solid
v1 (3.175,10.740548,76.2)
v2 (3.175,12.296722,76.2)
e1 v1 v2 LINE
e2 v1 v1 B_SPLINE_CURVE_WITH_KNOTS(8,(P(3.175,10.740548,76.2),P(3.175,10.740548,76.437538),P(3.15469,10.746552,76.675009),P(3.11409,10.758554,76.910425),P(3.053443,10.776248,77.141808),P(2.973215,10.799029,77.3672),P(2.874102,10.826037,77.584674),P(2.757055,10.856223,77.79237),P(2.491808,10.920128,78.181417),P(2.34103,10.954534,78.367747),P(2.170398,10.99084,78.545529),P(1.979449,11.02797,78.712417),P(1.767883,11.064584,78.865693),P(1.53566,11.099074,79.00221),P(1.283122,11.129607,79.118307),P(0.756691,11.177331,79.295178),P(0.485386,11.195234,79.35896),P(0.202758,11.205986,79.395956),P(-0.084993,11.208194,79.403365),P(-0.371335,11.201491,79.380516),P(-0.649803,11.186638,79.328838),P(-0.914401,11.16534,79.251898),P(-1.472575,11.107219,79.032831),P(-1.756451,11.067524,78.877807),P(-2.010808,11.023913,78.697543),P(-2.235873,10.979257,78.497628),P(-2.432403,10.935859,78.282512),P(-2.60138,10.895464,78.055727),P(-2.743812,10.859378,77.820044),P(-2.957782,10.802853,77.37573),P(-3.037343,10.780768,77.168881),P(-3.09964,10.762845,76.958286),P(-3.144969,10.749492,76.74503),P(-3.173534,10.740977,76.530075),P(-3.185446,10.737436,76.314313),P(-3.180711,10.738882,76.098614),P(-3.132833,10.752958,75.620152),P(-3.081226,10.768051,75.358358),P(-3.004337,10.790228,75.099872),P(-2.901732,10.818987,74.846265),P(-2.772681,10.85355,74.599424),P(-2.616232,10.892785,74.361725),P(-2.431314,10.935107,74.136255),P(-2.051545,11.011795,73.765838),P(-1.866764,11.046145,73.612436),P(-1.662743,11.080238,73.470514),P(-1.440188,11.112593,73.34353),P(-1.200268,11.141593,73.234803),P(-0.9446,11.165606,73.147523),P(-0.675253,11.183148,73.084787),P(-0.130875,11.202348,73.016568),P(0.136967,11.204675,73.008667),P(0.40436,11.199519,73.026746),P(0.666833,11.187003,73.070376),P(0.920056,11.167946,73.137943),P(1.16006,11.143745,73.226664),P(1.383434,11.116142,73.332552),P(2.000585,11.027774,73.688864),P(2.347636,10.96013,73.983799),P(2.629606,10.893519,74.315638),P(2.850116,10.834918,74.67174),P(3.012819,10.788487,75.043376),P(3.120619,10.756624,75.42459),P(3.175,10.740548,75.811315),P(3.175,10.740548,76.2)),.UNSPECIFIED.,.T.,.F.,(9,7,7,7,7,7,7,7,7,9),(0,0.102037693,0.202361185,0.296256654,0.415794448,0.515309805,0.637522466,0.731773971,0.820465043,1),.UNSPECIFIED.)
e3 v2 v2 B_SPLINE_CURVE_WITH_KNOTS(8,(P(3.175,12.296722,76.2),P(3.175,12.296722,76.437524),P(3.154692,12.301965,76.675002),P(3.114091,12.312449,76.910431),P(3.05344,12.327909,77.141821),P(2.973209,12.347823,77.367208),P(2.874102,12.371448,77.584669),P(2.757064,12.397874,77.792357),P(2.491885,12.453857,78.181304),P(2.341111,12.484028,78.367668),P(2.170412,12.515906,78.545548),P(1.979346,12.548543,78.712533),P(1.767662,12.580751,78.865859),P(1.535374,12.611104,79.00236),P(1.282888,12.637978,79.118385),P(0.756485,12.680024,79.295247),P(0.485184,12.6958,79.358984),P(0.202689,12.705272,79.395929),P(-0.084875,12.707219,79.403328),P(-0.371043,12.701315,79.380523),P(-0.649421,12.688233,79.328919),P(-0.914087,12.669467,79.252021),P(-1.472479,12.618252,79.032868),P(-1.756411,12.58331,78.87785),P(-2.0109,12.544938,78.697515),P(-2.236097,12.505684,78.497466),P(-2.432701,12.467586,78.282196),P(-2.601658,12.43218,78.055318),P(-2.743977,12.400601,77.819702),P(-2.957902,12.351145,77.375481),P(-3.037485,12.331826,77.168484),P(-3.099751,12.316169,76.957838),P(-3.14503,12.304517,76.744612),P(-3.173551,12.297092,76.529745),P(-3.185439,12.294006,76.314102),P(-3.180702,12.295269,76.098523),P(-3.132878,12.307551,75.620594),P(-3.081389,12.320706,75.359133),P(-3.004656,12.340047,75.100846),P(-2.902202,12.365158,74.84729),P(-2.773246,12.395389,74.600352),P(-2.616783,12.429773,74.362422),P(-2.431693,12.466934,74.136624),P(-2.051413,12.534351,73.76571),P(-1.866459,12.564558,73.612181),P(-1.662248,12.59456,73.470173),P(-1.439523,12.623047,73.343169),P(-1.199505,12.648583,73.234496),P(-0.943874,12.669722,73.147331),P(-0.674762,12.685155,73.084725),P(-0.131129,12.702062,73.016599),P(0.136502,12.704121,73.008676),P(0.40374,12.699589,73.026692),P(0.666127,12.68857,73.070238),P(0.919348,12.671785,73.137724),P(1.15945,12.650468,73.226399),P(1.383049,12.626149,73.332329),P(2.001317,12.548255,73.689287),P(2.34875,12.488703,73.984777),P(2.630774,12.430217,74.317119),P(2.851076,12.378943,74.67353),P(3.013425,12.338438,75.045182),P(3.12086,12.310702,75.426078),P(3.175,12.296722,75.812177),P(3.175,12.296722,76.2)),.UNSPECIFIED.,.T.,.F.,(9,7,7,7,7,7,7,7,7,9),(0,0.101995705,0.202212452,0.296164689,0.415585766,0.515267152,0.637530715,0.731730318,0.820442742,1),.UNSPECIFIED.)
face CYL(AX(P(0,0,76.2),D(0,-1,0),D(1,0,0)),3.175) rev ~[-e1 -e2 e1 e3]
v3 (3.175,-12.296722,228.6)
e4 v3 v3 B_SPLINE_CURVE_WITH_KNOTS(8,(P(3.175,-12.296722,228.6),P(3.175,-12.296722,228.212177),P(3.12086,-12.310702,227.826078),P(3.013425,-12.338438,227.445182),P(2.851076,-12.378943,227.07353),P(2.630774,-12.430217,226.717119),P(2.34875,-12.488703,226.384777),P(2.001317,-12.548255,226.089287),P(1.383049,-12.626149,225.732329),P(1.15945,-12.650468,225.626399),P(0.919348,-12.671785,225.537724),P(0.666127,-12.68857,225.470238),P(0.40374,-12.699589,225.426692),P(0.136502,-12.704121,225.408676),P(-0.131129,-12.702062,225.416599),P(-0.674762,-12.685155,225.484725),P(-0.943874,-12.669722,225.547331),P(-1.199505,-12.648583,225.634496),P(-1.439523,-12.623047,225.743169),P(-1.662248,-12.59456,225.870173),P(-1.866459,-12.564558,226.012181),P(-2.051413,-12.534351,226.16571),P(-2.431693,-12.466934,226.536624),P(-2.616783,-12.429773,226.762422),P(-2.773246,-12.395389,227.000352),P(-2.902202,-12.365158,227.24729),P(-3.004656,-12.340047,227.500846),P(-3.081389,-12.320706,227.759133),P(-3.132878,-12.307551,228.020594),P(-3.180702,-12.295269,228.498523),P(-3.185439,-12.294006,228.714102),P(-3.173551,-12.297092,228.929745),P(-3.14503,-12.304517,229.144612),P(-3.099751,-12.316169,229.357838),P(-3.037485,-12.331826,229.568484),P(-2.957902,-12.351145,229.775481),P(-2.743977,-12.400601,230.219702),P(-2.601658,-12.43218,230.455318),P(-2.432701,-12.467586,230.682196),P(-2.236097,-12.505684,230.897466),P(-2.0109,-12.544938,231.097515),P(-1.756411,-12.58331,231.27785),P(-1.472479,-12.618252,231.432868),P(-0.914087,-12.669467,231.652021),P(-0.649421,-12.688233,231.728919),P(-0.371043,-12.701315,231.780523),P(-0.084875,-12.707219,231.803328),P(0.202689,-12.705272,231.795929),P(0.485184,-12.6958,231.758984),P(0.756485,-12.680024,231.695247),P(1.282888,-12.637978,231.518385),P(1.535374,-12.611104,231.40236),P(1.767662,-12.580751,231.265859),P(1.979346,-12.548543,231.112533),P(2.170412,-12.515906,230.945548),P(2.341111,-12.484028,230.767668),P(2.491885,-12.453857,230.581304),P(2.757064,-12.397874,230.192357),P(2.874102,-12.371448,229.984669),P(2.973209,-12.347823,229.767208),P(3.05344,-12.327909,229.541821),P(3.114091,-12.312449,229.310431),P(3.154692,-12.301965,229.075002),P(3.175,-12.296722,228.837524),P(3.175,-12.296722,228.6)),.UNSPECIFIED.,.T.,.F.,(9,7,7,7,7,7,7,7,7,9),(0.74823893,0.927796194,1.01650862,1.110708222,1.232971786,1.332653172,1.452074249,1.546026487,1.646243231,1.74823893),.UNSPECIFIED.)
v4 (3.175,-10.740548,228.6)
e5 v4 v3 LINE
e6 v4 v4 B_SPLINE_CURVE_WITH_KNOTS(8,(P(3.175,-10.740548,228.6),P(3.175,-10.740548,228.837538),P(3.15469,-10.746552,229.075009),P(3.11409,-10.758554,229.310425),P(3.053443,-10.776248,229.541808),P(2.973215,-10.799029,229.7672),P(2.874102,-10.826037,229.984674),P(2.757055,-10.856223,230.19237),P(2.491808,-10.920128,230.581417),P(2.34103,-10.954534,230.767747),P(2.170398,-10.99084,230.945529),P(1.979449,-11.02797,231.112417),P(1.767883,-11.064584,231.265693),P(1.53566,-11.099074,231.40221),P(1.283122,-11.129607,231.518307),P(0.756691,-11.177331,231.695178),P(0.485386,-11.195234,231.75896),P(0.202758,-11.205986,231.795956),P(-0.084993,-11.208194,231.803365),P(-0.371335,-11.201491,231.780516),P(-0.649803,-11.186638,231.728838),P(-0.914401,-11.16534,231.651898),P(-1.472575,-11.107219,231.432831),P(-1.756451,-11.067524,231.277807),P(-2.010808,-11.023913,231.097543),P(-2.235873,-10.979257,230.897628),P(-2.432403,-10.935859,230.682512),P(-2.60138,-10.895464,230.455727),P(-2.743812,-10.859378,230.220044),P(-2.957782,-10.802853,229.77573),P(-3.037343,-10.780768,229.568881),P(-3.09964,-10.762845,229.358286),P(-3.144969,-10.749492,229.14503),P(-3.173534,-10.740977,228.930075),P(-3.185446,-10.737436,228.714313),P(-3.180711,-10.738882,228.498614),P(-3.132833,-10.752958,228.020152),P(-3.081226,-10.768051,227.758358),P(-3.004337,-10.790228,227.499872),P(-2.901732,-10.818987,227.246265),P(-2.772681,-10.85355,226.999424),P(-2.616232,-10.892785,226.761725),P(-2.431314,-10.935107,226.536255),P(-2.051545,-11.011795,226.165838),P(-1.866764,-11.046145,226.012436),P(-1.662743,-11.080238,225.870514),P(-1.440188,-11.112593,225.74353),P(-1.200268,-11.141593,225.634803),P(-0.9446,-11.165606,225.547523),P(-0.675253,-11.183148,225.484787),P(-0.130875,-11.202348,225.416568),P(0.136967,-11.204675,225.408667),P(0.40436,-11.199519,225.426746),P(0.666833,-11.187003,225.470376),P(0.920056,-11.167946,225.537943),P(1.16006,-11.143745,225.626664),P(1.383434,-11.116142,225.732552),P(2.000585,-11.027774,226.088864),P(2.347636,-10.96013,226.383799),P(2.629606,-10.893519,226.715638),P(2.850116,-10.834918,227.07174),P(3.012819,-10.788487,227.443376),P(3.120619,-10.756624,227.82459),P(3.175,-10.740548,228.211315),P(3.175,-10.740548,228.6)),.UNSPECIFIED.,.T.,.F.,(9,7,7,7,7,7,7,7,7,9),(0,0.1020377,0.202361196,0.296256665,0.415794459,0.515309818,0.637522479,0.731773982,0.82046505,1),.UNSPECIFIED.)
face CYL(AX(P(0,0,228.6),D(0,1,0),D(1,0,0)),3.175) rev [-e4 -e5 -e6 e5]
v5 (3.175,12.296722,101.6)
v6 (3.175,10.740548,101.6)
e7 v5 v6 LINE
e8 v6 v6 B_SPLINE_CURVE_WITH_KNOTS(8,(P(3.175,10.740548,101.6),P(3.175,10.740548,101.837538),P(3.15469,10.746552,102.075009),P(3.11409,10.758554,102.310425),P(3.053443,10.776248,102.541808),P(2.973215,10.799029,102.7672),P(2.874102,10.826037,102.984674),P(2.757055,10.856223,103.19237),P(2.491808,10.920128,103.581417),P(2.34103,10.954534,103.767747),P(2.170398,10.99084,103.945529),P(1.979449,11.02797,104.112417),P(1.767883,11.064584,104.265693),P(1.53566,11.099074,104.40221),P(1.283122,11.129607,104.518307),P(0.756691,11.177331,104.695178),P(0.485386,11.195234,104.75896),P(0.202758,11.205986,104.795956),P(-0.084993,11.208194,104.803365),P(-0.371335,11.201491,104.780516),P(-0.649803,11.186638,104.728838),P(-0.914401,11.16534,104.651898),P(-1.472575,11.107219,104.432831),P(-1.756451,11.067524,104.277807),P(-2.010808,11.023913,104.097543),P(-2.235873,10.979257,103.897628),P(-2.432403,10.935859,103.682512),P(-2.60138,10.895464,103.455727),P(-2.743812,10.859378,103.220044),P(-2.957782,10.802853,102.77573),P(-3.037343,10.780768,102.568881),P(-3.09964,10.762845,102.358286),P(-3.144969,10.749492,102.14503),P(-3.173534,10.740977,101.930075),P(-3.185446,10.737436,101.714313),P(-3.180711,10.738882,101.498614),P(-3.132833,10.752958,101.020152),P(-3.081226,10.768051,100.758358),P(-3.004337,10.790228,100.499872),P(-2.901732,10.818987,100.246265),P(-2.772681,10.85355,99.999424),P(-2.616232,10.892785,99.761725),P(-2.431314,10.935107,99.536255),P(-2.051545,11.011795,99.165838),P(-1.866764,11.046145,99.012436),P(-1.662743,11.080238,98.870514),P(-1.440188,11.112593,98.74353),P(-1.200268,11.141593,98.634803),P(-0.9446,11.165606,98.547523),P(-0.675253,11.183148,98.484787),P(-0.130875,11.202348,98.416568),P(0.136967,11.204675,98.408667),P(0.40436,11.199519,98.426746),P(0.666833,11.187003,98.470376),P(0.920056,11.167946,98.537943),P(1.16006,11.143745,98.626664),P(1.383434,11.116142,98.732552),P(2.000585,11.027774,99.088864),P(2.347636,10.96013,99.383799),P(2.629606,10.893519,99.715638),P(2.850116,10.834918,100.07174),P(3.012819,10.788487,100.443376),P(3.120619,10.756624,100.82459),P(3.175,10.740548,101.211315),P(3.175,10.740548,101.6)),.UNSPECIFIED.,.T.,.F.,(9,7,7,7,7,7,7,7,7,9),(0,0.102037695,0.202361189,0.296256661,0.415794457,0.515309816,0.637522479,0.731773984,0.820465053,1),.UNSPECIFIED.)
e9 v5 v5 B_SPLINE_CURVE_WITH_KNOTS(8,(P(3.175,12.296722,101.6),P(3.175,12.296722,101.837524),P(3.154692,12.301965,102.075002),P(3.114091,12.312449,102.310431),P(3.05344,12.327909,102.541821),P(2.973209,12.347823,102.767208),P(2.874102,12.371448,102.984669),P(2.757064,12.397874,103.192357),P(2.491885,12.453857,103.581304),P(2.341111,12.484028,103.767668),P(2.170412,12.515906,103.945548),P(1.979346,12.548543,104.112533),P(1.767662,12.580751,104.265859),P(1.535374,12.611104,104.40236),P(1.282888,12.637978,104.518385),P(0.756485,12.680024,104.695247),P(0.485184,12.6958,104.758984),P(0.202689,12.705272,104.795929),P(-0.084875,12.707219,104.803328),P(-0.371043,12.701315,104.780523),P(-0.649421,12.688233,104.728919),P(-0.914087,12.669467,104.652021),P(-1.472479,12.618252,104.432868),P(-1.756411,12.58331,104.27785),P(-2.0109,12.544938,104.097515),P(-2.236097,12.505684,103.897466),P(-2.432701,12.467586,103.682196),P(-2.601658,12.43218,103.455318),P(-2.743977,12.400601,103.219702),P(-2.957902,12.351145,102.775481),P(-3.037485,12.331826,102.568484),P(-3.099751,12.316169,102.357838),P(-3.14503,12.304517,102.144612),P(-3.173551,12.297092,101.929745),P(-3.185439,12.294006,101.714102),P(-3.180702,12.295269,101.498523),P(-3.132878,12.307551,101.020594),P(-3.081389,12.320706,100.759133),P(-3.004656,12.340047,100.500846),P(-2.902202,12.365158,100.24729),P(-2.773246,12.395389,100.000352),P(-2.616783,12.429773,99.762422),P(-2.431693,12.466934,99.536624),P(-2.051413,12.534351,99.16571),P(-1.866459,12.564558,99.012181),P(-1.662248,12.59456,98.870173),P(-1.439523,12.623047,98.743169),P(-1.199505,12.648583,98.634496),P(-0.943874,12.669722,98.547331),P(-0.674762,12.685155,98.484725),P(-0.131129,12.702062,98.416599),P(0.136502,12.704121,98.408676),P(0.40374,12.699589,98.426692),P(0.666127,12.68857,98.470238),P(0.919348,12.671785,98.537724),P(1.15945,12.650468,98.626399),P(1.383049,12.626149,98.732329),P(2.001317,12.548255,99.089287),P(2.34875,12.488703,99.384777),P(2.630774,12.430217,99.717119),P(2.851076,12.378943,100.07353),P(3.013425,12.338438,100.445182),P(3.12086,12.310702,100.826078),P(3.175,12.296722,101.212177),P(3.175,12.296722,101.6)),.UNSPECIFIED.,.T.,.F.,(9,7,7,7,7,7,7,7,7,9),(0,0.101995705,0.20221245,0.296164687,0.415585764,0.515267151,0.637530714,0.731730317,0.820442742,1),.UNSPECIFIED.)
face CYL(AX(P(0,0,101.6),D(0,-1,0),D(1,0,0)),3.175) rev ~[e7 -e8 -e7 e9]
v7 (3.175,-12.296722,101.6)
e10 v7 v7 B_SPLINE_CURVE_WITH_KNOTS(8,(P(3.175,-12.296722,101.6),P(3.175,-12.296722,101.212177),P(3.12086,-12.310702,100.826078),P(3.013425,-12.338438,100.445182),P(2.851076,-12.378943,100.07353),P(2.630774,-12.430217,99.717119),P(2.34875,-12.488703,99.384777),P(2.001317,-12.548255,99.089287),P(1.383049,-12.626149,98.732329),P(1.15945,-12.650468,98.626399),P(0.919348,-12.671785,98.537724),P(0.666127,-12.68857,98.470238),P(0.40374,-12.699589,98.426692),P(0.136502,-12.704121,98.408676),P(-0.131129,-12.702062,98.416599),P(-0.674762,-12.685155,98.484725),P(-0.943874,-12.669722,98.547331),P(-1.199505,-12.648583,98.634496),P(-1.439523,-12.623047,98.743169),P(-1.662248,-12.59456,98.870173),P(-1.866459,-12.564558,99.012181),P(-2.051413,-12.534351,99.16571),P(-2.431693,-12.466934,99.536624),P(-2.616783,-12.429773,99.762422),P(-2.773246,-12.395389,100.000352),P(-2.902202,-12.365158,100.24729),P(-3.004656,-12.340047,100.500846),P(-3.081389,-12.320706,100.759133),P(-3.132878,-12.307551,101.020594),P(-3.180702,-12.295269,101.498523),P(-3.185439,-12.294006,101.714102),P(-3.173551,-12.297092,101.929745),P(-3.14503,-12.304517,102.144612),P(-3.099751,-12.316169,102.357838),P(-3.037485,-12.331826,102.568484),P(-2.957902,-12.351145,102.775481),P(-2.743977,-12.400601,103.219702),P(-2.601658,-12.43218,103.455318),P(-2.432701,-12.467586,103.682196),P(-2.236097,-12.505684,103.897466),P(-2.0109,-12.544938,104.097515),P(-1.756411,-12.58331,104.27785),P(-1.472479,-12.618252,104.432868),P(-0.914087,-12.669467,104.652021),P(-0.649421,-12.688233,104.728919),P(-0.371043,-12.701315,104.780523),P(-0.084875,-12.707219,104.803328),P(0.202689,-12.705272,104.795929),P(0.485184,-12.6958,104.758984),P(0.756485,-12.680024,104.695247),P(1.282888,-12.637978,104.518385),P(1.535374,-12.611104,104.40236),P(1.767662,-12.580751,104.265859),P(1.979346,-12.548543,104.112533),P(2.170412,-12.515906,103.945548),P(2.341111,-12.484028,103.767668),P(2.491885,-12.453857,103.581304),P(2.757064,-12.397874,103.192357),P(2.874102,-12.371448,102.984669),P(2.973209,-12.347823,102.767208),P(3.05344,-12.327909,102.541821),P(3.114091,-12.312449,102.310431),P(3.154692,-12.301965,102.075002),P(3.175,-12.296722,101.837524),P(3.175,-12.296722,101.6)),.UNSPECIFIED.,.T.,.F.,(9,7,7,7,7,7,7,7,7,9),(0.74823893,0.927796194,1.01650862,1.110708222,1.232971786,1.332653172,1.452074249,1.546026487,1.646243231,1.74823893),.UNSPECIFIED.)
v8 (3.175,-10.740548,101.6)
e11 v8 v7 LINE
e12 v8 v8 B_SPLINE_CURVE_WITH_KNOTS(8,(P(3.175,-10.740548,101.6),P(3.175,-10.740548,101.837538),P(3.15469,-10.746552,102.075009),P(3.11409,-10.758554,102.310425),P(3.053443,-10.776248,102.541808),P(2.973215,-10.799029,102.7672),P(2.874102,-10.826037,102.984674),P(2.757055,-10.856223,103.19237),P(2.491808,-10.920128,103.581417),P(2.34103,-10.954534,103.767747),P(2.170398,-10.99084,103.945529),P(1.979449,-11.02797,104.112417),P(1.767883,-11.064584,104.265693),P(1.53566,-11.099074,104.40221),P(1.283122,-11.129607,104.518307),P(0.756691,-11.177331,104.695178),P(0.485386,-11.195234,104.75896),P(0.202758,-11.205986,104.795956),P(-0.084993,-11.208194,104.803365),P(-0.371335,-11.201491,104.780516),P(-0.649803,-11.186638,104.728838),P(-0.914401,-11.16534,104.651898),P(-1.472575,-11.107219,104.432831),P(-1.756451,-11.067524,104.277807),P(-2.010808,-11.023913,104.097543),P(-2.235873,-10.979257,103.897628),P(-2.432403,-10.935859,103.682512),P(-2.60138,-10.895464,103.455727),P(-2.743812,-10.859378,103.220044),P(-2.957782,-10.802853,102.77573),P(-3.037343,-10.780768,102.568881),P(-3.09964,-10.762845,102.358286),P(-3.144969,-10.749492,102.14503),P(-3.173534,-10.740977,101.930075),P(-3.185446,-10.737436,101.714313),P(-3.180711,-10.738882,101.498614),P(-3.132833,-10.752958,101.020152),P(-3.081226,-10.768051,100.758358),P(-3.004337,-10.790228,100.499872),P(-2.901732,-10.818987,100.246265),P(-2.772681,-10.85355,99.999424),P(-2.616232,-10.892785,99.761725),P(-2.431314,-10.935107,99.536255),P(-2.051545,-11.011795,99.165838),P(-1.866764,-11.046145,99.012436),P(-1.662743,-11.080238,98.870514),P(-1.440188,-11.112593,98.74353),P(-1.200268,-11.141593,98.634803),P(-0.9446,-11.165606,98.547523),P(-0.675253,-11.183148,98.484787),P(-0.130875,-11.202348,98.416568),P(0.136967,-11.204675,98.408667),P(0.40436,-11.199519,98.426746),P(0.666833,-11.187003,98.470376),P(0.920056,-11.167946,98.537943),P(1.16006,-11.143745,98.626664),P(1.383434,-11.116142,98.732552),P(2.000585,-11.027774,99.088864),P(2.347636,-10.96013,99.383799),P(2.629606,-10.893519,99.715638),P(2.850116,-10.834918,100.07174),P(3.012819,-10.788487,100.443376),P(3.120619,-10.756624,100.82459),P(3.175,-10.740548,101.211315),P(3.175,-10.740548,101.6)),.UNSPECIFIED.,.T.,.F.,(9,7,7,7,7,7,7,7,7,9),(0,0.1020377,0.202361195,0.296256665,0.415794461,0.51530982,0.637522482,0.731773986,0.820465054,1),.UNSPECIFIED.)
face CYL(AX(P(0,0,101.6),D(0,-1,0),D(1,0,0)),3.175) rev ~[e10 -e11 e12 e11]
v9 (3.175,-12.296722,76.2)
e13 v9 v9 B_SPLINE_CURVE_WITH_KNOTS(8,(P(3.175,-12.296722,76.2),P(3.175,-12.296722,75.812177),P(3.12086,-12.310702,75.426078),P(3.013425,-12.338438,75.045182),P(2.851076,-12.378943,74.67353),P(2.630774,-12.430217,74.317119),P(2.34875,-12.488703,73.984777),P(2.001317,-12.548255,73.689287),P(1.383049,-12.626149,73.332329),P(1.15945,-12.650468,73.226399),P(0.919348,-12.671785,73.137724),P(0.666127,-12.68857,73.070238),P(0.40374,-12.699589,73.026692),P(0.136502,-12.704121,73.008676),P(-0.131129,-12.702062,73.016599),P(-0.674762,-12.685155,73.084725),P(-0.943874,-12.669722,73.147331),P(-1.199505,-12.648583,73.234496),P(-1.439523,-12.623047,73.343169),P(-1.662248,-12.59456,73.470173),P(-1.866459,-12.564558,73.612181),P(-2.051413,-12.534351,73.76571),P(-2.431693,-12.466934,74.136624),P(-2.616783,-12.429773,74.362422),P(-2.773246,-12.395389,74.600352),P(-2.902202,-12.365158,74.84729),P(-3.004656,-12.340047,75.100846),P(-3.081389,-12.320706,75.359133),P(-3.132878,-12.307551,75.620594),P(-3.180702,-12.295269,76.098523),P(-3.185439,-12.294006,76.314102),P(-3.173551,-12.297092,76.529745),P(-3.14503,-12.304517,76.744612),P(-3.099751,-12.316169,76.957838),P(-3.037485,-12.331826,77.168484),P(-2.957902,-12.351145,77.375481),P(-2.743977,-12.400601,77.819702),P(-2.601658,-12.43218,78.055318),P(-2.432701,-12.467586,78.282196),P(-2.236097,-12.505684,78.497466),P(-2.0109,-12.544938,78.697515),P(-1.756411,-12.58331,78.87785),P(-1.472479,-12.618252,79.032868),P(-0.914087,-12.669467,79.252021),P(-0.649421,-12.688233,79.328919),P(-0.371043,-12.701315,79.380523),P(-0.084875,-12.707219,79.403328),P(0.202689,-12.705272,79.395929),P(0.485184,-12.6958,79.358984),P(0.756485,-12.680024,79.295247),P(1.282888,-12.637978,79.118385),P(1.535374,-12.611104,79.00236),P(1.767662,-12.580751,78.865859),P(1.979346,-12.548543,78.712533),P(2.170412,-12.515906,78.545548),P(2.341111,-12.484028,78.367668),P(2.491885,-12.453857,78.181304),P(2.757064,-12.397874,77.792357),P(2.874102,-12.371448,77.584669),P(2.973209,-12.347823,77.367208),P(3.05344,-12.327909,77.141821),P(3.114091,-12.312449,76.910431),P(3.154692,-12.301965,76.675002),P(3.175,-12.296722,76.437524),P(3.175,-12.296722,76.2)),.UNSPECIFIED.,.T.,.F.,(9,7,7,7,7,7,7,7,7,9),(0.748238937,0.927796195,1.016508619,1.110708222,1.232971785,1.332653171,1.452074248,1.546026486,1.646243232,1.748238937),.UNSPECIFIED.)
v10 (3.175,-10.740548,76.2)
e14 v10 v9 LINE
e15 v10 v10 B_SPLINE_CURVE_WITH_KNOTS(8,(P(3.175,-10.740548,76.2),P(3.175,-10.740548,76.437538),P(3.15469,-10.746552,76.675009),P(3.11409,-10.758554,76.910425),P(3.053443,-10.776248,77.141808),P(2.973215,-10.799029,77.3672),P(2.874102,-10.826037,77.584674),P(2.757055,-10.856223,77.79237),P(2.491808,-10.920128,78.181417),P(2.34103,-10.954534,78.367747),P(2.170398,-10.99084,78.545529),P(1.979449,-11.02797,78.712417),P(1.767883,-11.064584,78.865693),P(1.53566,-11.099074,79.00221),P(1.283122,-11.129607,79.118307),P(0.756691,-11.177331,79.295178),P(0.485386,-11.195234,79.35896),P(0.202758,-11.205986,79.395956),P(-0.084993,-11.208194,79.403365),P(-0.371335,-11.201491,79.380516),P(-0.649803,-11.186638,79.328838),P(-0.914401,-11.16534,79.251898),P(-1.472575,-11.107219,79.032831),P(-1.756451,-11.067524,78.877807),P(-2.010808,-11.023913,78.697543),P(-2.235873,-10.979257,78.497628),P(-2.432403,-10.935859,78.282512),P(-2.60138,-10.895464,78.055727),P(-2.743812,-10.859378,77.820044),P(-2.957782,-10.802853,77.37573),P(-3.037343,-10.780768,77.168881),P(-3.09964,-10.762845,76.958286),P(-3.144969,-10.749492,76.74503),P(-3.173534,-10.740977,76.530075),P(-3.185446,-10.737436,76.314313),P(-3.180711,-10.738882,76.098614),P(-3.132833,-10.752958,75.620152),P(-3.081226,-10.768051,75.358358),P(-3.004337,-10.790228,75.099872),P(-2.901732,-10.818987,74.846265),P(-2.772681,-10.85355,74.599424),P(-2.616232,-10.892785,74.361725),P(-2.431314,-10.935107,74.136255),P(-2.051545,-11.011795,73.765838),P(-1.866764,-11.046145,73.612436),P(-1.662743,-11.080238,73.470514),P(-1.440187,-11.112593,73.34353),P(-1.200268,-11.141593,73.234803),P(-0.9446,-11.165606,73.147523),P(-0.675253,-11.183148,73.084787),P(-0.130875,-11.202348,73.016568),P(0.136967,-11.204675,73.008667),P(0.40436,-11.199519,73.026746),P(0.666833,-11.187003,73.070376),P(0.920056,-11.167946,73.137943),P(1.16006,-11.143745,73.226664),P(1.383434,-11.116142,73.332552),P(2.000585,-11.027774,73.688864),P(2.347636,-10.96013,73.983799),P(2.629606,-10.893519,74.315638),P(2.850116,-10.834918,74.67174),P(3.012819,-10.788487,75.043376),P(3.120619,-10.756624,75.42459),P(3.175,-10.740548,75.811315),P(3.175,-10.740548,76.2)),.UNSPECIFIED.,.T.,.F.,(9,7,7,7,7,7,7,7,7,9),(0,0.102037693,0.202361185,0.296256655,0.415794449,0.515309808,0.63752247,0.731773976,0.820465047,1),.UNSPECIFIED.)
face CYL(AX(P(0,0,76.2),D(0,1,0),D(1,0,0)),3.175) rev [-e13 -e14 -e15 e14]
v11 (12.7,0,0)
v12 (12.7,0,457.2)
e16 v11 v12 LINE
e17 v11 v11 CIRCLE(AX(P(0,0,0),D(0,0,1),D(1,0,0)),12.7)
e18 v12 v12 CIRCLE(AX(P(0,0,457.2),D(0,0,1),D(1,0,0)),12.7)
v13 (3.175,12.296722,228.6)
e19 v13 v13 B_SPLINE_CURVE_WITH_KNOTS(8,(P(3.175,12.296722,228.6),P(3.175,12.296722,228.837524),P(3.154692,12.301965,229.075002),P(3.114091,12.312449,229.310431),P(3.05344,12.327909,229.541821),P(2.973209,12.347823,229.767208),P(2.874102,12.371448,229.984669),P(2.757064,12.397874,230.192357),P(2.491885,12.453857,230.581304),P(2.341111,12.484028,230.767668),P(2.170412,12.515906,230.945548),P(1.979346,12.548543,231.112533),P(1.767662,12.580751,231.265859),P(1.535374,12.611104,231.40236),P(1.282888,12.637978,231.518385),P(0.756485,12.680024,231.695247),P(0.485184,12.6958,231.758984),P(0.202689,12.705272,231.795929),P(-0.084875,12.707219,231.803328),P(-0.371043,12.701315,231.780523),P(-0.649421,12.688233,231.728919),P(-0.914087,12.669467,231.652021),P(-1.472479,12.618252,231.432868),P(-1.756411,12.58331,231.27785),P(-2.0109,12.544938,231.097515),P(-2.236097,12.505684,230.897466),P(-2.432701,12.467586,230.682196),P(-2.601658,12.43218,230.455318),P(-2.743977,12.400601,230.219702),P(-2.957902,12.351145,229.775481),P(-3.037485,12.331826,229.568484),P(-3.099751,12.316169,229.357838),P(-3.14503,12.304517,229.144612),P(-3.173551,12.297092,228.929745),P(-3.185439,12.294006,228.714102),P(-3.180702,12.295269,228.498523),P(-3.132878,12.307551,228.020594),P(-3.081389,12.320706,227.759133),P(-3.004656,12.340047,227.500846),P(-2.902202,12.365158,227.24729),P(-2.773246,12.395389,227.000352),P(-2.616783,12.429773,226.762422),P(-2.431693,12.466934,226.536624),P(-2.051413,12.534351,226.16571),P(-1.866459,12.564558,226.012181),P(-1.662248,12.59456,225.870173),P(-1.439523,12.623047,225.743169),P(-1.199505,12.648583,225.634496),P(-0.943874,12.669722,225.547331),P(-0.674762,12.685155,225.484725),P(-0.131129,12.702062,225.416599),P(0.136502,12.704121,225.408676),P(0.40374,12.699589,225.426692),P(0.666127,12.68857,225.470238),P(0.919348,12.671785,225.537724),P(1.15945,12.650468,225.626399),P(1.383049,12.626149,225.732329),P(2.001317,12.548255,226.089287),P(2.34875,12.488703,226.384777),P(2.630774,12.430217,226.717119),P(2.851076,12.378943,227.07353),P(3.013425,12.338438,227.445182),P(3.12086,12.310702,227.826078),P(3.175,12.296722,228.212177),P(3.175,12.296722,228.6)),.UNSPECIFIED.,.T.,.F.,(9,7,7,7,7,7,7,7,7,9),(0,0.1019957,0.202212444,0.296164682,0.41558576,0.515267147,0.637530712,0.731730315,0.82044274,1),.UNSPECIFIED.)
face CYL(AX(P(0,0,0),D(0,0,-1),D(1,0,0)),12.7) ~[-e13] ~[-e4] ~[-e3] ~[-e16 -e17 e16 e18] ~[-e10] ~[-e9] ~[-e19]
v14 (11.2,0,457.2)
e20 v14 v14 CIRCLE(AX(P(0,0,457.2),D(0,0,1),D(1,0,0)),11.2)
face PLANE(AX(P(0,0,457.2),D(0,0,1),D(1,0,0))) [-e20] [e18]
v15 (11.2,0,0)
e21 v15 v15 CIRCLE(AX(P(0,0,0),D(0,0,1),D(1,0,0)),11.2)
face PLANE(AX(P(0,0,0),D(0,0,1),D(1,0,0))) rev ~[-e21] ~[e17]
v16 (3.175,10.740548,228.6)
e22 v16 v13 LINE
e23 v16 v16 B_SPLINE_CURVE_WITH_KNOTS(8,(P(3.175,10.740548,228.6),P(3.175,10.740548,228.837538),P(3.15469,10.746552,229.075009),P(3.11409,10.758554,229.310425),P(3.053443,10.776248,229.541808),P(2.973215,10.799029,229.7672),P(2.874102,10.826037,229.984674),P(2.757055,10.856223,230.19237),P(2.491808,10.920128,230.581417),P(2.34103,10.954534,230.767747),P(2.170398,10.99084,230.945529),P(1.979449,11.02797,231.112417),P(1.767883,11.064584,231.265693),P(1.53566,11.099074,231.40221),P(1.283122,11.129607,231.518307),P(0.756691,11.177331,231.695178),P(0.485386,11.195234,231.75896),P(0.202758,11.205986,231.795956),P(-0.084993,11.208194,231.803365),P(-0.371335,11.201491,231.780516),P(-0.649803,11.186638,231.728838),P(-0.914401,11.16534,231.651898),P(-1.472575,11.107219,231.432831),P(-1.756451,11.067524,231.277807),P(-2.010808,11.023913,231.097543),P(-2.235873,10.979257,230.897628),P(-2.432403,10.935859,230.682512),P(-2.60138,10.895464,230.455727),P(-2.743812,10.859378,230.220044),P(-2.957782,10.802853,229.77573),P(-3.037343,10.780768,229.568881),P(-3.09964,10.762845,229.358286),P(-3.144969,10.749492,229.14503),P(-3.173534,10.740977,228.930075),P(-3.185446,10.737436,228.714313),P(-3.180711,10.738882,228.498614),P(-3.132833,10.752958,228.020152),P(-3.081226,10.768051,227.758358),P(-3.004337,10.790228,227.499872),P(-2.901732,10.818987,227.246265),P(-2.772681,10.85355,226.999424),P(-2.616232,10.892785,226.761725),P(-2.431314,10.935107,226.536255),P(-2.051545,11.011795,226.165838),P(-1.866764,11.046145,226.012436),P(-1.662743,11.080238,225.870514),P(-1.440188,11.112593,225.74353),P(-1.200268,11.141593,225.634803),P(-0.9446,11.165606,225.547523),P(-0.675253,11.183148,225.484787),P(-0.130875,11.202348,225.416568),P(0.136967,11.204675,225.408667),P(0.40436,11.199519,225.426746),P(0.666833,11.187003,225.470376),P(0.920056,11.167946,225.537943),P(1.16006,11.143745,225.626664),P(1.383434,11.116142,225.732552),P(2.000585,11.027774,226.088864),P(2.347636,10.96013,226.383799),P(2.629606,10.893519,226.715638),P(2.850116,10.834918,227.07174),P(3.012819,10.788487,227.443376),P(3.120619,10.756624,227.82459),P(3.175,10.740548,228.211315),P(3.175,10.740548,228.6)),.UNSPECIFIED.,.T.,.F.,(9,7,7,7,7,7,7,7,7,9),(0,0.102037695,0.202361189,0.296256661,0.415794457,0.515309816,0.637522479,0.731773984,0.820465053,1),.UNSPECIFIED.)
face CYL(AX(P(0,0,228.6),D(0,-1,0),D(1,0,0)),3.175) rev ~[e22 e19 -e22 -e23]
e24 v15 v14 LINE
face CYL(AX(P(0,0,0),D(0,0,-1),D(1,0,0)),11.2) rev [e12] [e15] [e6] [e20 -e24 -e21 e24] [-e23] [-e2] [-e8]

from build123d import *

# Parameters (mm, degrees)
F0_R     = 12.7
F0_R_2   = 11.2
F1_DEPTH = 457.2
F2_R     = 3.175
F3_DEPTH = 12.7


with BuildPart() as f1:
    # F0 (on Top) → F1 (new body)
    with BuildSketch(Plane.XY):
        Circle(F0_R)
        Circle(F0_R_2, mode=Mode.SUBTRACT)
    extrude(amount=F1_DEPTH)

    # F2 (on Front) → F3 (cut, symmetric)
    with BuildSketch(Plane.XZ):
        with Locations((0, 76.2)):
            Circle(F2_R)
        with Locations((0, 228.6)):
            Circle(F2_R)
        with Locations((0, 101.6)):
            Circle(F2_R)
    extrude(amount=F3_DEPTH, both=True, mode=Mode.SUBTRACT)


solid = f1.part
